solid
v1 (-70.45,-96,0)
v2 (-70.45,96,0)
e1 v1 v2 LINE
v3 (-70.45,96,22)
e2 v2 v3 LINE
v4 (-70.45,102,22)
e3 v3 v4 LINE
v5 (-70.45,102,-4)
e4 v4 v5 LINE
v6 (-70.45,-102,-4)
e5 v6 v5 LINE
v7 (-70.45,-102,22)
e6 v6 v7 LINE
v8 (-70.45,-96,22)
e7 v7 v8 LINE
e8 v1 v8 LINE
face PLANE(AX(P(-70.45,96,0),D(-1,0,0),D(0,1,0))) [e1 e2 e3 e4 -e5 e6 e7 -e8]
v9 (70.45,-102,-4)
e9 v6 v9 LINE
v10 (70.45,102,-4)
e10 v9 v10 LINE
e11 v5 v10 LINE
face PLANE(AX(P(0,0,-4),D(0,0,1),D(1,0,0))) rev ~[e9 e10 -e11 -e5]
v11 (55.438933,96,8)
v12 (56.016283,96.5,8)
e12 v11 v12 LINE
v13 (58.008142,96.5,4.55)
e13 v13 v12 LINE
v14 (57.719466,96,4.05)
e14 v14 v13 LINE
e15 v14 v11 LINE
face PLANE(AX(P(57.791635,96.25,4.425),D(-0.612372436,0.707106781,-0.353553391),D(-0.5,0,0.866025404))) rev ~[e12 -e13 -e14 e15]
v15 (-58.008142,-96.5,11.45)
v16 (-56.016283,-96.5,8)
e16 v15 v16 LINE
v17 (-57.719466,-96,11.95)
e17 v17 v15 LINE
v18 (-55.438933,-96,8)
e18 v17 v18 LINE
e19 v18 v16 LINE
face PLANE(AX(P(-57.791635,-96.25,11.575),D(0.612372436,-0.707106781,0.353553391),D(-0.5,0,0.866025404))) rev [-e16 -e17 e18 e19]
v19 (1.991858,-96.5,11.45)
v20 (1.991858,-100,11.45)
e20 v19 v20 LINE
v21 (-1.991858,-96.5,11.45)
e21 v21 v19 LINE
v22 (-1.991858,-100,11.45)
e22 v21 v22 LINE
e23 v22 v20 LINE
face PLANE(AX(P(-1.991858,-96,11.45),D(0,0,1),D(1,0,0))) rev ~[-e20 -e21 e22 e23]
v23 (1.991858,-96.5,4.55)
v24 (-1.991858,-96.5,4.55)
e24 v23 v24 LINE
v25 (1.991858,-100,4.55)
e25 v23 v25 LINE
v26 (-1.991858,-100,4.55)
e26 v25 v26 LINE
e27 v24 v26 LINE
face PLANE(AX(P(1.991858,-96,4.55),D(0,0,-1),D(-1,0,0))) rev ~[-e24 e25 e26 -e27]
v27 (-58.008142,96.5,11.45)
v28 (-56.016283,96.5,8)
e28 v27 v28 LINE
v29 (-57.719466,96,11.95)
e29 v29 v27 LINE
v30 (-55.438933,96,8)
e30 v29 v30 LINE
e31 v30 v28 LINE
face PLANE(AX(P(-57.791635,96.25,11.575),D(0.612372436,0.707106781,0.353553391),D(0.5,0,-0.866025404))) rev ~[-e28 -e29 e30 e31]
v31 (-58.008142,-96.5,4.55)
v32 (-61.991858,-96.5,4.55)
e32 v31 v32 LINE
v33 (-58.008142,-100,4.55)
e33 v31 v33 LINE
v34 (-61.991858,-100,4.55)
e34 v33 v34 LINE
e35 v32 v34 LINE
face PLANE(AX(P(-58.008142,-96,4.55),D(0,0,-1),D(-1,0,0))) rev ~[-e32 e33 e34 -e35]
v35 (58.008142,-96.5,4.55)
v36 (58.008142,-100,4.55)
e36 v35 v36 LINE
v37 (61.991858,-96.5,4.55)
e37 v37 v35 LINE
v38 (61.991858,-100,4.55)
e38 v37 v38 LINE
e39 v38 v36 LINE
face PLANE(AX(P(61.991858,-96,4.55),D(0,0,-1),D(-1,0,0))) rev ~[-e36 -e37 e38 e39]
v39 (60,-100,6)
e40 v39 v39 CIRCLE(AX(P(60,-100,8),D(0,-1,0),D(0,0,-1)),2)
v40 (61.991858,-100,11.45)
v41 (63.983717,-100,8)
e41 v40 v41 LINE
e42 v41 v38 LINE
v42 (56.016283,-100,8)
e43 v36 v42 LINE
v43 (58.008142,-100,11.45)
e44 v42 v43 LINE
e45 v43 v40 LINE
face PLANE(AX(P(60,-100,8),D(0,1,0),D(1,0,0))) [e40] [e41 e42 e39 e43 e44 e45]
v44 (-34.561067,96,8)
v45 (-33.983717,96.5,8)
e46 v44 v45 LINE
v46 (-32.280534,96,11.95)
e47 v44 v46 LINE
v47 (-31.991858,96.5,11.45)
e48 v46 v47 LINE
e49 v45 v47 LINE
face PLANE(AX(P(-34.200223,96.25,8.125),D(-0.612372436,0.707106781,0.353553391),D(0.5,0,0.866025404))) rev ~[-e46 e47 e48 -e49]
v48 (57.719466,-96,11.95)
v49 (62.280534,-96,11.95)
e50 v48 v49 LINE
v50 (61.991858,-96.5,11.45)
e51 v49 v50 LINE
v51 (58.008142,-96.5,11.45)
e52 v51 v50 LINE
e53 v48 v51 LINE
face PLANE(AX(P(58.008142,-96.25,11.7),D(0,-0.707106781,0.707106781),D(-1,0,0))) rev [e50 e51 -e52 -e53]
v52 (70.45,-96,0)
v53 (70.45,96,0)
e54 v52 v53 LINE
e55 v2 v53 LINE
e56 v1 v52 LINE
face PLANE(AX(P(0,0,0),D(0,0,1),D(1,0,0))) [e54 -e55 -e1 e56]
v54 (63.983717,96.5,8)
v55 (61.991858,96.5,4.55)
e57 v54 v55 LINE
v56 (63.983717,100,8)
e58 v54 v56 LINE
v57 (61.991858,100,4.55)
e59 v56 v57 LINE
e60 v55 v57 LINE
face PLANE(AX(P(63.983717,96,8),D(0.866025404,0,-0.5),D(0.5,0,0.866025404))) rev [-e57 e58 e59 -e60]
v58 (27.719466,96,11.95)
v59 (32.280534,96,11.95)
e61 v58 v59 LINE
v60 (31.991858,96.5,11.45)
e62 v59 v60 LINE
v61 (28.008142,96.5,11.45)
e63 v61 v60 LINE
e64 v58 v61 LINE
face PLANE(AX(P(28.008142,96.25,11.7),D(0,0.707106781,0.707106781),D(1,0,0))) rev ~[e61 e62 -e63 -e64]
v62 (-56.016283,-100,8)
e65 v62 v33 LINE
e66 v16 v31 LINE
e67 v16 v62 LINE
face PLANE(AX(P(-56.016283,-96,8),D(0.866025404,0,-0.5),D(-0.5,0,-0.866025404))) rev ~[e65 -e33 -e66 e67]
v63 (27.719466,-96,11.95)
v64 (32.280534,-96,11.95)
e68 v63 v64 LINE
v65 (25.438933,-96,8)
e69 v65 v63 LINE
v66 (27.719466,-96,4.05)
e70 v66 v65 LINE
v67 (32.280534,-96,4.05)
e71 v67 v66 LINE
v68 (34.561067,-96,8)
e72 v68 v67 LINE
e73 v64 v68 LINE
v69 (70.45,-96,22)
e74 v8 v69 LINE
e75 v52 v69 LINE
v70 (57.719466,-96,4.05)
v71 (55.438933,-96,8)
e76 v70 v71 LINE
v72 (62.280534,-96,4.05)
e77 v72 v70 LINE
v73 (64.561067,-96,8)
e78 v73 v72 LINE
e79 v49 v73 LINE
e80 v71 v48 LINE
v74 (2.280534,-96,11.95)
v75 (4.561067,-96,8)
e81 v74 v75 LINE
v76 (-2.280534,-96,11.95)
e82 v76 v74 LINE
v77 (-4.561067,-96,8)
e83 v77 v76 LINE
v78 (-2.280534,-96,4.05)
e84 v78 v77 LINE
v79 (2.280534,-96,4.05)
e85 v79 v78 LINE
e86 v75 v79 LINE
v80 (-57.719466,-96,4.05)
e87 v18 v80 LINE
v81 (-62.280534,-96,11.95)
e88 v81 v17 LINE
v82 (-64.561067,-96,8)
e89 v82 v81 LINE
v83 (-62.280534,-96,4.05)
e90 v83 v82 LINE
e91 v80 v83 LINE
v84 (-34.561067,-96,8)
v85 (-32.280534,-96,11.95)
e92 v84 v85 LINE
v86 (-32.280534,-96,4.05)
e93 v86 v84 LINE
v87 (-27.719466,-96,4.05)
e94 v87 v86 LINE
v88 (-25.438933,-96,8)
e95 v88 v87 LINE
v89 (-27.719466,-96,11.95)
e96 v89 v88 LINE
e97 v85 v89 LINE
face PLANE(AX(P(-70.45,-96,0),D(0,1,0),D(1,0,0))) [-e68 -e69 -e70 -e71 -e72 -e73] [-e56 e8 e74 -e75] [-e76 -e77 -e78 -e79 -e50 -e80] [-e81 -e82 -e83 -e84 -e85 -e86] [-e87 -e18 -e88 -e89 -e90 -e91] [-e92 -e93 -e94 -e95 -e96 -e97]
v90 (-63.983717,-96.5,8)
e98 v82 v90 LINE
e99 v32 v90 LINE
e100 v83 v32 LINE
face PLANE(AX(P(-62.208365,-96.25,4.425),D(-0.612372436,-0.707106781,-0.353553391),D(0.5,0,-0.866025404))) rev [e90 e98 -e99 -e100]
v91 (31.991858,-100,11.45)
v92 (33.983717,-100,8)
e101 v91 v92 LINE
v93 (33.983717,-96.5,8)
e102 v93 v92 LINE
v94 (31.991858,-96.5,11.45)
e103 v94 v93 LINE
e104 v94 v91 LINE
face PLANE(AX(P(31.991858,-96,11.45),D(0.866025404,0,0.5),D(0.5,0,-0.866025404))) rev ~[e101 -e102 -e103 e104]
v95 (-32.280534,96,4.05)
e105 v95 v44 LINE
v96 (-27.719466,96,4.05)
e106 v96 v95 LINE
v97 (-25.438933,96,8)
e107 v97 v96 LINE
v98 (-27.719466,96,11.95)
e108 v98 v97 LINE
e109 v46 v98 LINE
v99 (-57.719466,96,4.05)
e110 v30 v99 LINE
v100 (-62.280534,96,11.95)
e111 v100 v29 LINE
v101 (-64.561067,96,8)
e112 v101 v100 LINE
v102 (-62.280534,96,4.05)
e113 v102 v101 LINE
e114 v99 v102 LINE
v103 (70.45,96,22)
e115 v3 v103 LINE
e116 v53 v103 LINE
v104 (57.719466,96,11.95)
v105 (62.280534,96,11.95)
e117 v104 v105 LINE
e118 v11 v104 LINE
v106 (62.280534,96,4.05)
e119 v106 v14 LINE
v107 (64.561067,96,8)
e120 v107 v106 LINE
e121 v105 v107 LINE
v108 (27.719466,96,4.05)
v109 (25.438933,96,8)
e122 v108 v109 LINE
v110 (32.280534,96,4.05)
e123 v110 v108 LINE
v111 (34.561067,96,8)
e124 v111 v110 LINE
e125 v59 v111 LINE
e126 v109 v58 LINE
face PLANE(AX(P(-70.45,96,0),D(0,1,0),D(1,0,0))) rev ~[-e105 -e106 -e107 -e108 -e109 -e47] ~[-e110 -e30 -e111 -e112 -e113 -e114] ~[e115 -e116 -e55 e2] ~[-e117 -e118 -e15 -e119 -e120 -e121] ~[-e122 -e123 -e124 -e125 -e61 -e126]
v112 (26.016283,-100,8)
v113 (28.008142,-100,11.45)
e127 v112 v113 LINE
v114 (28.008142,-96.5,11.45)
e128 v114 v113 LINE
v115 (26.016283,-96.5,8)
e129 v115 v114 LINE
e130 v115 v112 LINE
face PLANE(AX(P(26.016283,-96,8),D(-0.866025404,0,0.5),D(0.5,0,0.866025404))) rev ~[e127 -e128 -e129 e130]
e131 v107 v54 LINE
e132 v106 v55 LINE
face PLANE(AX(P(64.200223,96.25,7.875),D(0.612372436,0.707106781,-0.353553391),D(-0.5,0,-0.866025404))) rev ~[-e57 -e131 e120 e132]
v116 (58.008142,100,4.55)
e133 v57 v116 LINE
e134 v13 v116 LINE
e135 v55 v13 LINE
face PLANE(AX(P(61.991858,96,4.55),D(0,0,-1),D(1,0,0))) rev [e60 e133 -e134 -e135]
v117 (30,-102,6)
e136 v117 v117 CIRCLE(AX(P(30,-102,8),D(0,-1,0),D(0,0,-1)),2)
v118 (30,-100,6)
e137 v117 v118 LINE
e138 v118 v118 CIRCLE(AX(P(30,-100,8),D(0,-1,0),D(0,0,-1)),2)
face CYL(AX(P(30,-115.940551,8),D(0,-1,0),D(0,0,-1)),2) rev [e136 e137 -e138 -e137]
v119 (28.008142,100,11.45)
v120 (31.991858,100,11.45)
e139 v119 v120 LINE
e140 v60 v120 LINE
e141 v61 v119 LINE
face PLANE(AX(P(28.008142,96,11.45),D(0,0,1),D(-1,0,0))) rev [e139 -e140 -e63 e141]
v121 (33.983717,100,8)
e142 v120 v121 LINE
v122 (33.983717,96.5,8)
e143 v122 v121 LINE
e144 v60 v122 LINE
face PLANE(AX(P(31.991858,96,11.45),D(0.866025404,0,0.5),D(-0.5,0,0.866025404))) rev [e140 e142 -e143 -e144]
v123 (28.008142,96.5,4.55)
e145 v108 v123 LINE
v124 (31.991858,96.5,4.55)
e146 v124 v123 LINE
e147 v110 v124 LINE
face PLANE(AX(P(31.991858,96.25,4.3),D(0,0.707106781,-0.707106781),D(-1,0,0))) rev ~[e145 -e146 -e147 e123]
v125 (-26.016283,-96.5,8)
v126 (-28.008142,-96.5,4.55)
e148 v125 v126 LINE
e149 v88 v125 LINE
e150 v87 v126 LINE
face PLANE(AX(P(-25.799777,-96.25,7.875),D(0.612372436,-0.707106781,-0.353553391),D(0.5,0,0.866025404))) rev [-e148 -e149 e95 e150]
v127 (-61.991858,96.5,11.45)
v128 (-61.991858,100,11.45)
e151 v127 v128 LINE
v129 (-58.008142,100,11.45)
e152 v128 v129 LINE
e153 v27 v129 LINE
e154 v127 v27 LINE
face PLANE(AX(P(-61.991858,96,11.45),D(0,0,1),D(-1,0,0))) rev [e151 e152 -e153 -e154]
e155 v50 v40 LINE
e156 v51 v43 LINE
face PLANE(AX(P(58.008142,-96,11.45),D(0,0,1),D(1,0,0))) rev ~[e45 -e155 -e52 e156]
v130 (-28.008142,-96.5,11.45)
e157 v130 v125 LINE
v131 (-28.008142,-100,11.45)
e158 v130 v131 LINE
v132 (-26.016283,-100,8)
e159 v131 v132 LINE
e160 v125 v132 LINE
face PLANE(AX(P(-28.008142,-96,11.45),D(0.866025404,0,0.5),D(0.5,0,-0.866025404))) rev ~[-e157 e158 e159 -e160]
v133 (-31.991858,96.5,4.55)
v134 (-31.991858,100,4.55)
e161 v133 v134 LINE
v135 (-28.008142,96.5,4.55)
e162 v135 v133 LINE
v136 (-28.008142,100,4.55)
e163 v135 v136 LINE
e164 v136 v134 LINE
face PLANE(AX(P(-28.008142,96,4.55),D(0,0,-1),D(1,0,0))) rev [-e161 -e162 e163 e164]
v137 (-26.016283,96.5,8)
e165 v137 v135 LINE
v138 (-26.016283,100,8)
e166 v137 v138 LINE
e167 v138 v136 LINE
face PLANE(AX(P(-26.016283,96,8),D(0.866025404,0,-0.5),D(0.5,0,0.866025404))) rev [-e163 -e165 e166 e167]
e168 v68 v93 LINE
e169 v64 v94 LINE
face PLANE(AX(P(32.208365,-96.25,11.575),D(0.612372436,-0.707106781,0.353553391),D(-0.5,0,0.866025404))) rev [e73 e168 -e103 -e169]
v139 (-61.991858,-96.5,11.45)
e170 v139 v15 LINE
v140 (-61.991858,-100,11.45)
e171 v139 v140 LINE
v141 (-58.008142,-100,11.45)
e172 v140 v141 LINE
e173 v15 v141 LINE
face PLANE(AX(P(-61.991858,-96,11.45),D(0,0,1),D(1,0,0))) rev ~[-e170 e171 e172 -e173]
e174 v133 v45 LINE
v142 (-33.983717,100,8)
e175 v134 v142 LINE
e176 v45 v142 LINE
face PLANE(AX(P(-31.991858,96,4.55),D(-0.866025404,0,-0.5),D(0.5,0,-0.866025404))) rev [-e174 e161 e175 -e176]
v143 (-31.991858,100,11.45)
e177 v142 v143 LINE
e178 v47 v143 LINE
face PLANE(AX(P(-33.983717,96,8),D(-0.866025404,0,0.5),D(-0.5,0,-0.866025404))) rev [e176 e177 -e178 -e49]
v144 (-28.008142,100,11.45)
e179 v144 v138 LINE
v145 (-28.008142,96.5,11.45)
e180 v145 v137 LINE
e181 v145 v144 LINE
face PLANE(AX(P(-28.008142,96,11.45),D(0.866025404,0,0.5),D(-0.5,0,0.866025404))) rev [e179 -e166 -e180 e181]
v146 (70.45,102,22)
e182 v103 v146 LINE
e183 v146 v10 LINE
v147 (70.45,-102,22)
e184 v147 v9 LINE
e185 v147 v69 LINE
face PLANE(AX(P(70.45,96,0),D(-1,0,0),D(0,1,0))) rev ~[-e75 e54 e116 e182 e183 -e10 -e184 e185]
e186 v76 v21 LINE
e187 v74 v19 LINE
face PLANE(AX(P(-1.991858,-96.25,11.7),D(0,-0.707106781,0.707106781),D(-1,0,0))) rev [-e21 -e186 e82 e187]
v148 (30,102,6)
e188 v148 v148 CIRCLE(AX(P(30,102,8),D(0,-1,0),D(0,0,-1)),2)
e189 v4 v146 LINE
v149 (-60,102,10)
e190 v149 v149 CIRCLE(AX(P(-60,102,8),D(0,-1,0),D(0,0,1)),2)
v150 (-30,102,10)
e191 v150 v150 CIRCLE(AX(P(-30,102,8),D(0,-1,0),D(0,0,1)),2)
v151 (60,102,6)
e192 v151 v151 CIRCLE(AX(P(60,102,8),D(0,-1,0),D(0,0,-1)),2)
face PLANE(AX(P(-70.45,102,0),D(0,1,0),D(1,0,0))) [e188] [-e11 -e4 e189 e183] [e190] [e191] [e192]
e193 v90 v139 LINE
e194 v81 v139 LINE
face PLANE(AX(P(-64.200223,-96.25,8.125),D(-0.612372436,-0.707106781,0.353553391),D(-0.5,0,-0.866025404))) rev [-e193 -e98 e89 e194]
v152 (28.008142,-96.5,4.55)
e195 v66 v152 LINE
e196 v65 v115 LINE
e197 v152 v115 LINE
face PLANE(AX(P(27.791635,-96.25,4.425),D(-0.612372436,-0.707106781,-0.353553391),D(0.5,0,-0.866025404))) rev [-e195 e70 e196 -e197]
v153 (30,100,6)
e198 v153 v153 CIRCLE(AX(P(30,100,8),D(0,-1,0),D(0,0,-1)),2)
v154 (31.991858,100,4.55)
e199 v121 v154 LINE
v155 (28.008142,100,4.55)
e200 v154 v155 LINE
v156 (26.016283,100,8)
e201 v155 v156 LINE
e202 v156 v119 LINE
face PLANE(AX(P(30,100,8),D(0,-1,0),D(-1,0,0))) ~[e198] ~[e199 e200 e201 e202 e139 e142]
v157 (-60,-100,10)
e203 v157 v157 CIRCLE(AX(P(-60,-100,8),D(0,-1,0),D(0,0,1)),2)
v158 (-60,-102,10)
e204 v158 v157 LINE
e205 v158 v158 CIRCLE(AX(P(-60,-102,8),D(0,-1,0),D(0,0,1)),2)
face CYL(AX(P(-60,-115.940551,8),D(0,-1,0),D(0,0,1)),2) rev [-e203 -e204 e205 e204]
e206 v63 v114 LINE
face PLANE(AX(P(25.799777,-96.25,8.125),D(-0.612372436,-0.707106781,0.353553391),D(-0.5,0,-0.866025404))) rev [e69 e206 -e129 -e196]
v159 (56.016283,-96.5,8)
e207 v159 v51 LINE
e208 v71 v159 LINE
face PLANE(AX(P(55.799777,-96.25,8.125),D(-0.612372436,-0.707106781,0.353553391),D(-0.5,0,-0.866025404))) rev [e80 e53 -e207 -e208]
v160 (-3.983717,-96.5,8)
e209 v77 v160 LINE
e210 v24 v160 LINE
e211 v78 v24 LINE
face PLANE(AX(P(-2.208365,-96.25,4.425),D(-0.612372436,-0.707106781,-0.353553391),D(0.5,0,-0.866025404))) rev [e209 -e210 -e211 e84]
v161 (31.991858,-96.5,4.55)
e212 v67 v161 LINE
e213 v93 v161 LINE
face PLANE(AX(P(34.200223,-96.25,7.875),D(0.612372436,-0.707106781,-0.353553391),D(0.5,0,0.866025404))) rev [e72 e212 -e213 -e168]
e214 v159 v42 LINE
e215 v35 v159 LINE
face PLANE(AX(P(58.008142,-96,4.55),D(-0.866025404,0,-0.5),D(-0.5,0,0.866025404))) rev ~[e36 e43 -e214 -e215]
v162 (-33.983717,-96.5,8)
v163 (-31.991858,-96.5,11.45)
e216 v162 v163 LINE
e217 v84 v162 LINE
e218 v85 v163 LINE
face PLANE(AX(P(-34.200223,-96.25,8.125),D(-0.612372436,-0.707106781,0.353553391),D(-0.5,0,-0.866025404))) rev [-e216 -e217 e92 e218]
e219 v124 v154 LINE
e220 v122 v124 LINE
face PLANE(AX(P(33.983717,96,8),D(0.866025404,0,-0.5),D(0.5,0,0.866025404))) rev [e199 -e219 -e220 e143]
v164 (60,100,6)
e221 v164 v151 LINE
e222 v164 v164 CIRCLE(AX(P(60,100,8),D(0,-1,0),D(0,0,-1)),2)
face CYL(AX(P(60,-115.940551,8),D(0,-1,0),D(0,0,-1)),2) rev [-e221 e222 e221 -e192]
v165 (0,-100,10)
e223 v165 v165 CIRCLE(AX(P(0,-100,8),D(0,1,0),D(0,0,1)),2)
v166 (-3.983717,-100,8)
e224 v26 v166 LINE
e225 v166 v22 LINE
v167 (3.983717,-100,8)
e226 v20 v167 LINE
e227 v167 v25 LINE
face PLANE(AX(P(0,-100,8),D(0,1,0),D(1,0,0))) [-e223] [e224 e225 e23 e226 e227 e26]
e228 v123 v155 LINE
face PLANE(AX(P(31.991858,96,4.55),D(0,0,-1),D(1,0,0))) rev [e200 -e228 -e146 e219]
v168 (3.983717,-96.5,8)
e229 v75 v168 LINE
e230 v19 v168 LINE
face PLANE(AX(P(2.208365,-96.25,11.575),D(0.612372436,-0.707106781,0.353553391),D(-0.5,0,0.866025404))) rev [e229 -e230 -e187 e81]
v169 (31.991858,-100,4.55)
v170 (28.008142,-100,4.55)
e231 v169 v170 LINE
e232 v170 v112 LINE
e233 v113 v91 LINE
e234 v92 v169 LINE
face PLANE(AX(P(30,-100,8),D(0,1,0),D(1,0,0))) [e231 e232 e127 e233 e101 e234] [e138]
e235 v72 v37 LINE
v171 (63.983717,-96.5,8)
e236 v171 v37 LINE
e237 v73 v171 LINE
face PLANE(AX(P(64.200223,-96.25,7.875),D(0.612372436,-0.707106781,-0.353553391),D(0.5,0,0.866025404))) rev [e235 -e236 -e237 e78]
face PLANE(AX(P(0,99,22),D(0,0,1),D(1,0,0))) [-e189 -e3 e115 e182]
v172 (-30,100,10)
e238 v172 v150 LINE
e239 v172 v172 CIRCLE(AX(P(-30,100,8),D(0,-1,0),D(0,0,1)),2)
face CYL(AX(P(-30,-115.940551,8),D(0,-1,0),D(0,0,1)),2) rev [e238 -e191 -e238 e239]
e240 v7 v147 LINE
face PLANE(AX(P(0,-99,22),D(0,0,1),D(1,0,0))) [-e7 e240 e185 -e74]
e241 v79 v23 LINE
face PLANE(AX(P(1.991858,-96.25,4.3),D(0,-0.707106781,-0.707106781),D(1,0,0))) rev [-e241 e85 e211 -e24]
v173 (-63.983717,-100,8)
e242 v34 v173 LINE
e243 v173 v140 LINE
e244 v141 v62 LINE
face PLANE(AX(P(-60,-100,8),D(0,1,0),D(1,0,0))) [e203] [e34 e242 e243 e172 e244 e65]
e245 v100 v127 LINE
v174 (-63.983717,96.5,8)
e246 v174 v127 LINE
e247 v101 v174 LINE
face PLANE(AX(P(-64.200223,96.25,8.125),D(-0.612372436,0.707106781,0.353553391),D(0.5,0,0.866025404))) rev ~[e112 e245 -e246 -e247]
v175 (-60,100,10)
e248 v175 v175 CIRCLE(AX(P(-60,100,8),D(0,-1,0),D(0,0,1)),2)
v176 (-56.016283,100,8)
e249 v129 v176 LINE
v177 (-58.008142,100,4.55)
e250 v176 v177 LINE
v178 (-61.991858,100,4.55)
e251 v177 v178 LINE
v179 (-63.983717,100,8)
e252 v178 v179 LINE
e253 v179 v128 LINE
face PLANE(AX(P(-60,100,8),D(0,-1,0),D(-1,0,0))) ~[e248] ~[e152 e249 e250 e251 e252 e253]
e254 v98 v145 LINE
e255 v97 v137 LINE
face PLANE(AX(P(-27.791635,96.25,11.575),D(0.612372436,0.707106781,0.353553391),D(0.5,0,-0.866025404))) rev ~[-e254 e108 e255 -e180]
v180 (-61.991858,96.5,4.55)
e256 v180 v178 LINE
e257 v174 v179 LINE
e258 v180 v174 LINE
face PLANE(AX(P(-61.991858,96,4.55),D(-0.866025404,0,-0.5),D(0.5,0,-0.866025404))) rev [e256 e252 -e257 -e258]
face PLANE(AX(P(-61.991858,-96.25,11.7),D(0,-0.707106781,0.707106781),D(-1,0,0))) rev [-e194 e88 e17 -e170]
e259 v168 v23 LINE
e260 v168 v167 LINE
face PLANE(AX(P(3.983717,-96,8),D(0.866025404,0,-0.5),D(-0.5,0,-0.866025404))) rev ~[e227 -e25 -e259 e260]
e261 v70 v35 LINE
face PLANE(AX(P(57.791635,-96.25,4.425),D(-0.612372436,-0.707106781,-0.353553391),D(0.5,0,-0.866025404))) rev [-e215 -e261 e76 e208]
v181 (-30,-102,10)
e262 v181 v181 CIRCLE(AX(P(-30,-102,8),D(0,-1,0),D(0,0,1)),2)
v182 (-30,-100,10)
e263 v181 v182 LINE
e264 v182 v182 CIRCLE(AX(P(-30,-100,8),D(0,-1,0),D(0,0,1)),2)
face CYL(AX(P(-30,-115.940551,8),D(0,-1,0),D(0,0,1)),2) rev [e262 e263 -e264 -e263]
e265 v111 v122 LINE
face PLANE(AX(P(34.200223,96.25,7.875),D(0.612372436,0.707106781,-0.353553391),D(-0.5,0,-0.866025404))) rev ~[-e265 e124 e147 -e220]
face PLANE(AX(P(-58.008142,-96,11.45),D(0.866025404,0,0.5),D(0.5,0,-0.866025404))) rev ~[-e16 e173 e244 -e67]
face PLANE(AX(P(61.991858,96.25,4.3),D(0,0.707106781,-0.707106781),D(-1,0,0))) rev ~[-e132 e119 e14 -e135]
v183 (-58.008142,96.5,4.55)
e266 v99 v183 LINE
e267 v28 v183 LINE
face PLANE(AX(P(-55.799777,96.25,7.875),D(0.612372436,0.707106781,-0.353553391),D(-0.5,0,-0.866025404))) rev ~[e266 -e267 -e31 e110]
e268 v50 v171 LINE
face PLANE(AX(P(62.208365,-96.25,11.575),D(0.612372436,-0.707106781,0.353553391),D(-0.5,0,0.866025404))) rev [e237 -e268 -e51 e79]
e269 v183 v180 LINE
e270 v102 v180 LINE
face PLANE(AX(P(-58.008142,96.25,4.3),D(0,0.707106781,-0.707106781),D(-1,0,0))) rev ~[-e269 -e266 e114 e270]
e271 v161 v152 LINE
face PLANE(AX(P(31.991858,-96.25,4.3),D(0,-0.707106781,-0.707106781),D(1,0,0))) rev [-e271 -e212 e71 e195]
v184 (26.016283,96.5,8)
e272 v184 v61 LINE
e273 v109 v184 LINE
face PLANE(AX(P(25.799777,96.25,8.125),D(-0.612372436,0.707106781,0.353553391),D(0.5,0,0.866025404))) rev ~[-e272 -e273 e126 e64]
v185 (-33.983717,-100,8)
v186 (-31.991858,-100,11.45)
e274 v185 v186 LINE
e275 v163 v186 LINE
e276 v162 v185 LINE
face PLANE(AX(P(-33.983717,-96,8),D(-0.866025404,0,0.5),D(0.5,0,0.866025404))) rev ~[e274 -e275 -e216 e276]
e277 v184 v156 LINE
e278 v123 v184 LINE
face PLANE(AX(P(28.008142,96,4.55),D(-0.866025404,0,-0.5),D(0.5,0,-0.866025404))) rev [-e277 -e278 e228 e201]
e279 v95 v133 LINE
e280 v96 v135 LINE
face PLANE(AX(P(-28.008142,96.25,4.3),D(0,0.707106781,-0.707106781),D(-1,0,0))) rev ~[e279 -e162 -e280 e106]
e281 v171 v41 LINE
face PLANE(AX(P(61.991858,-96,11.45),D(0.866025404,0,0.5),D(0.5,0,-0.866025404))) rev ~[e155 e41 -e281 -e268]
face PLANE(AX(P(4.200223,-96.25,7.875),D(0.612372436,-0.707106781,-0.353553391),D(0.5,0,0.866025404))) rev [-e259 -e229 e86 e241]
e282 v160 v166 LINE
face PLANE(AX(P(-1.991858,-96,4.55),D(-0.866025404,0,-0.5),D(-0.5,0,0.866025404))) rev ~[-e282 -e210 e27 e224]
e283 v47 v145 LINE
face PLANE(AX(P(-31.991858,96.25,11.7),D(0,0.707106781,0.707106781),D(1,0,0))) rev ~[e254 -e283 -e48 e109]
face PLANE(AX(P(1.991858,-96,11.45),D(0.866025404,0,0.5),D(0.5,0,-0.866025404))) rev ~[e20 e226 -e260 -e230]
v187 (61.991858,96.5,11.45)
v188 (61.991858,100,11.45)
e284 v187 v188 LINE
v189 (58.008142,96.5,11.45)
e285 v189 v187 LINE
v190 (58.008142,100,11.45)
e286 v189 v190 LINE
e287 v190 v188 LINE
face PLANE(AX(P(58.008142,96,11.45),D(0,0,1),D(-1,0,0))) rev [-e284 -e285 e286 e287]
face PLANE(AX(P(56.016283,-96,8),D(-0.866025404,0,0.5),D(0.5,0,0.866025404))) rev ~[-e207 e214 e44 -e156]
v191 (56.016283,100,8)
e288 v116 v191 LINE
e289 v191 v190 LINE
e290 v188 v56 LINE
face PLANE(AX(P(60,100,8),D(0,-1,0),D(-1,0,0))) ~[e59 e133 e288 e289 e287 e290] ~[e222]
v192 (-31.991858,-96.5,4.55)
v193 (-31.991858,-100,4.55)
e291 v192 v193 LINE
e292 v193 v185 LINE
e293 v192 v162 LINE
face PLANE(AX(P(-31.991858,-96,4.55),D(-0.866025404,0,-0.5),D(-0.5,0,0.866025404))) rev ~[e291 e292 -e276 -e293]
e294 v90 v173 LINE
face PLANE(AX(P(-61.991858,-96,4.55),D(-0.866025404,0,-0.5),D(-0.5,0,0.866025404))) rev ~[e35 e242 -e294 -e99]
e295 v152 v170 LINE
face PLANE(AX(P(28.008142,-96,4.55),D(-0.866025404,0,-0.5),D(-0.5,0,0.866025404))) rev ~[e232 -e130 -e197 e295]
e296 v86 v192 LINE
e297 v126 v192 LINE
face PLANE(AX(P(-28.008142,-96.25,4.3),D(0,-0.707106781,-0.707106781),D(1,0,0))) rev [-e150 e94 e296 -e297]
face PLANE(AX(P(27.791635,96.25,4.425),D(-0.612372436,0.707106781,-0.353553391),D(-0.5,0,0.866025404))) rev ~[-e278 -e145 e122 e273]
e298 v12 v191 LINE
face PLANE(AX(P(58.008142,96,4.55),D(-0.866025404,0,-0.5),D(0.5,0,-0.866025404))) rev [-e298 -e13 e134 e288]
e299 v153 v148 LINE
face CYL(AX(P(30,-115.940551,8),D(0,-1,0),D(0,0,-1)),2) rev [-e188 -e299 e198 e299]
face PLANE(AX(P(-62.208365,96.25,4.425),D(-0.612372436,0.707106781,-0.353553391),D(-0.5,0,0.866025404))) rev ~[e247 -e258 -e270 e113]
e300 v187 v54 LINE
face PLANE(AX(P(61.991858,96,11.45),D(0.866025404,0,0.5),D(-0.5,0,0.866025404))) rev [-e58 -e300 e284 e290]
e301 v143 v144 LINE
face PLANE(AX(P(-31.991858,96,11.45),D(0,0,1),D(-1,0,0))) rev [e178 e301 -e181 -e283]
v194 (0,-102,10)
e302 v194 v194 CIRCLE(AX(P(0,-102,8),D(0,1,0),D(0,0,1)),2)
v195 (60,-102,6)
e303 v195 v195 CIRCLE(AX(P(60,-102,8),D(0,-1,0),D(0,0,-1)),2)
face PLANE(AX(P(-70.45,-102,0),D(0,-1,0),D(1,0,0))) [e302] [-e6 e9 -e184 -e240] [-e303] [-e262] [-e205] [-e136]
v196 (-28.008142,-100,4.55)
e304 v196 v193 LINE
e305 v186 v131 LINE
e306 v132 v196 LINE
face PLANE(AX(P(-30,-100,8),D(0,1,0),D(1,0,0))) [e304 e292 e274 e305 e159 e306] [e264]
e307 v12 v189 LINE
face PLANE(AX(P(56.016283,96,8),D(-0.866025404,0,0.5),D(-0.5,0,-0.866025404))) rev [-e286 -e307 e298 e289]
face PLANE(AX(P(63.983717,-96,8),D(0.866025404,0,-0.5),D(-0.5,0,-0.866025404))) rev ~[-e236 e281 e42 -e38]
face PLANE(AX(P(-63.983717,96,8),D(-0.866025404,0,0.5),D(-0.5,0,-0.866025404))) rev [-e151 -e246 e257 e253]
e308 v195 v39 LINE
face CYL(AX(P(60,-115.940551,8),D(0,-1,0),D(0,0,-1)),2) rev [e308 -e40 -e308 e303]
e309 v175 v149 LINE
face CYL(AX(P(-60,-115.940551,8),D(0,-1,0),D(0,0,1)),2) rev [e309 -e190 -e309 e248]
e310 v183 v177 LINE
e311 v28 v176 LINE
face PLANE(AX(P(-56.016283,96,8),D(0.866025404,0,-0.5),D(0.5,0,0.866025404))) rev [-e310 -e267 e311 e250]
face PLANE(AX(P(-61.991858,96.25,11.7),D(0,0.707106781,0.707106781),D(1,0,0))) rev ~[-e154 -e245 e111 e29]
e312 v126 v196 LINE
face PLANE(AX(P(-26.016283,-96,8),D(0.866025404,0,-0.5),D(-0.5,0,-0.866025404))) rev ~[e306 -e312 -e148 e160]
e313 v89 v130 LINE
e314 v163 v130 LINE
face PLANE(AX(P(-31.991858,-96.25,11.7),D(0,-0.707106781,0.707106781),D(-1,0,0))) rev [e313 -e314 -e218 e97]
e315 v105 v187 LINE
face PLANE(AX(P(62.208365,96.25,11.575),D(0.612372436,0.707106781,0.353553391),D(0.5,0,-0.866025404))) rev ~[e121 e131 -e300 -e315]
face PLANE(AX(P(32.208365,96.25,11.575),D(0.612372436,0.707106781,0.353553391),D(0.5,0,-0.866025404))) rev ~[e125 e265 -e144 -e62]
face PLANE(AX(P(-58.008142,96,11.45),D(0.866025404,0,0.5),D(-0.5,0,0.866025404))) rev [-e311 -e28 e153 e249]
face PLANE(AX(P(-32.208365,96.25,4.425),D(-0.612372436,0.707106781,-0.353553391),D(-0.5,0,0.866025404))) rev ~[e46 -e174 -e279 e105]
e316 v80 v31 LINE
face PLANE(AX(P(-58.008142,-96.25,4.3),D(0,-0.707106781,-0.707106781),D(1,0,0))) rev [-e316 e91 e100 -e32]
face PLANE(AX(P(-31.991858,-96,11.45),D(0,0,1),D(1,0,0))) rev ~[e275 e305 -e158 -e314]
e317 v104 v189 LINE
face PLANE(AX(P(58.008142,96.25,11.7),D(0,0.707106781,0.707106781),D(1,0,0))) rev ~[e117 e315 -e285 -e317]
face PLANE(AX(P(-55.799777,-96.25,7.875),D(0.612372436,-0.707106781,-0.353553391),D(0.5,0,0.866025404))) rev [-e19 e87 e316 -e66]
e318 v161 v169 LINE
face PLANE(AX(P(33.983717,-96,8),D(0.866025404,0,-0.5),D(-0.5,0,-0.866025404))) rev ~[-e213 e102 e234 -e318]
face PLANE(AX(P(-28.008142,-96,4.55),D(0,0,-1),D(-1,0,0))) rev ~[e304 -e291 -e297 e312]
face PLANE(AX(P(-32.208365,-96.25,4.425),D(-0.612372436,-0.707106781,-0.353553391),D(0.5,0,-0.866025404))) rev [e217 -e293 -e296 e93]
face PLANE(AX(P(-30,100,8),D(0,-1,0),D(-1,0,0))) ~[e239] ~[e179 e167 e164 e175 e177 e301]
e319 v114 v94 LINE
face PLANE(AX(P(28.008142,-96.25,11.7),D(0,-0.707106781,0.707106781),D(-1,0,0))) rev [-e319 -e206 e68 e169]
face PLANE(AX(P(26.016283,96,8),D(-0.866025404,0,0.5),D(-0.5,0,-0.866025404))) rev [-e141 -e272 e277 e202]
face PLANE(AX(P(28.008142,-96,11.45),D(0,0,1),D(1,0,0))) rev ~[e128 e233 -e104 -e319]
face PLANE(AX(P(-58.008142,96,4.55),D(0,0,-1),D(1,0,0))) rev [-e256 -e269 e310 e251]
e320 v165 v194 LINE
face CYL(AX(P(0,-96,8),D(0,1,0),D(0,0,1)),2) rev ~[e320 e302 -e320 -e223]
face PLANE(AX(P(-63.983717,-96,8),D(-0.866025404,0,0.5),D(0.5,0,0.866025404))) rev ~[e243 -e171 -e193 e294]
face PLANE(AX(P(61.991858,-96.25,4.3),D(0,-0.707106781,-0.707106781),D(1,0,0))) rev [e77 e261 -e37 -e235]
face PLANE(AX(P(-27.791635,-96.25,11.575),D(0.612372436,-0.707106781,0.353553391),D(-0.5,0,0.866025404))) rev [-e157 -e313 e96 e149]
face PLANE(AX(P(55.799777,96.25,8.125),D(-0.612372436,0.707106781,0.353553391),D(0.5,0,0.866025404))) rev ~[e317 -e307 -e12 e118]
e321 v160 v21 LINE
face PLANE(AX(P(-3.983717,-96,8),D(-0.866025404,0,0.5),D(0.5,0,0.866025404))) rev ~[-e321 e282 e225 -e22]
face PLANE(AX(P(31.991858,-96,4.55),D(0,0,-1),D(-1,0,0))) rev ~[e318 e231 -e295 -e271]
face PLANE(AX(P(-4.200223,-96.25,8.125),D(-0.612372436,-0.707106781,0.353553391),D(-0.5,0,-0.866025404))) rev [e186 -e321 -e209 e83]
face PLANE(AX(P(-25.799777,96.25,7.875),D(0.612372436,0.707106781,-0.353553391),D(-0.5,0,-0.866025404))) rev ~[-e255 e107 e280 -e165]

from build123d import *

# Parameters (mm, degrees)
SKETCH1_W               = 140.9
SKETCH1_H               = 204
BOSS_EXTRUDE1_DEPTH     = 4
SKETCH4_W               = 140.9
SKETCH4_H               = 6
BOSS_EXTRUDE3_DEPTH     = 22
CUT_EXTRUDE1_DEPTH      = 217.940550612
CUT_EXTRUDE1_DEPTH_BACK = 217.940550612
SKETCH5_R               = 2
CUT_EXTRUDE4_DEPTH      = 4
SKETCH9_R               = 2
CUT_EXTRUDE5_DEPTH      = 212.308311479
CUT_EXTRUDE6_DEPTH      = 4
CHAMFER1_SIZE           = 0.5


with BuildPart() as part:
    # Sketch1 → Boss-Extrude1 (new body)
    with BuildSketch(Plane.XY):
        Rectangle(SKETCH1_W, SKETCH1_H)
    extrude(amount=-BOSS_EXTRUDE1_DEPTH)

    # Sketch4 → Boss-Extrude3 (add)
    with BuildSketch(Plane.XY):
        with Locations((0, 99)):
            Rectangle(SKETCH4_W, SKETCH4_H)
        with Locations((0, -99)):
            Rectangle(SKETCH4_W, SKETCH4_H)
    extrude(amount=BOSS_EXTRUDE3_DEPTH)

    # Sketch5 → Cut-Extrude1 (cut, two sides: drawn at the far end of the back side and taken through both)
    with BuildSketch(Plane(origin=(0, 102, 0), x_dir=(1, 0, 0), z_dir=(0, 1, 0)).offset(-CUT_EXTRUDE1_DEPTH_BACK)):
        with Locations(Location((-30, -8, 0), (0, 0, 270))):
            Circle(SKETCH5_R)
        with Locations(Location((-60, -8, 0), (0, 0, 270))):
            Circle(SKETCH5_R)
        with Locations(Location((60, -8, 0), (0, 0, 90))):
            Circle(SKETCH5_R)
        with Locations(Location((30, -8, 0), (0, 0, 90))):
            Circle(SKETCH5_R)
    extrude(amount=CUT_EXTRUDE1_DEPTH + CUT_EXTRUDE1_DEPTH_BACK, mode=Mode.SUBTRACT)

    # Sketch8 → Cut-Extrude4 (cut)
    with BuildSketch(Plane(origin=(0, -96, 0), x_dir=(1, 0, 0), z_dir=(0, 1, 0))):
        Polygon((-26.016283143, -8), (-28.008141571, -4.55), (-31.991858429, -4.55), (-33.983716857, -8), (-31.991858429, -11.45), (-28.008141571, -11.45), align=None)
        Polygon((-56.016283143, -8), (-58.008141571, -4.55), (-61.991858429, -4.55), (-63.983716857, -8), (-61.991858429, -11.45), (-58.008141571, -11.45), align=None)
        Polygon((33.983716857, -8), (31.991858429, -4.55), (28.008141571, -4.55), (26.016283143, -8), (28.008141571, -11.45), (31.991858429, -11.45), align=None)
        Polygon((63.983716857, -8), (61.991858429, -4.55), (58.008141571, -4.55), (56.016283143, -8), (58.008141571, -11.45), (61.991858429, -11.45), align=None)
    cut_extrude4 = extrude(amount=-CUT_EXTRUDE4_DEPTH, mode=Mode.SUBTRACT)

    # Mirror1: Cut-Extrude4 across plane
    add(cut_extrude4.mirror(Plane.ZX), mode=Mode.SUBTRACT)

    # Sketch9 → Cut-Extrude5 (cut, through all)
    with BuildSketch(Plane(origin=(0, -96, 0), x_dir=(1, 0, 0), z_dir=(0, 1, 0))):
        with Locations(Location((0, -8, 0), (0, 0, 270))):
            Circle(SKETCH9_R)
    extrude(amount=-CUT_EXTRUDE5_DEPTH, mode=Mode.SUBTRACT)

    # Sketch10 → Cut-Extrude6 (cut)
    with BuildSketch(Plane(origin=(0, -96, 0), x_dir=(1, 0, 0), z_dir=(0, 1, 0))):
        Polygon((1.991858429, -4.55), (-1.991858429, -4.55), (-3.983716857, -8), (-1.991858429, -11.45), (1.991858429, -11.45), (3.983716857, -8), align=None)
    extrude(amount=-CUT_EXTRUDE6_DEPTH, mode=Mode.SUBTRACT)

    # Chamfer1
    chamfer1_edges = [part.edges().sort_by_distance(p)[0] for p in [
        (32.987787643, -96, 9.725),
        (32.987787643, -96, 6.275),
        (30, -96, 4.55),
        (27.012212357, -96, 6.275),
        (27.012212357, -96, 9.725),
        (30, -96, 11.45),
        (62.987787643, -96, 9.725),
        (62.987787643, -96, 6.275),
        (60, -96, 4.55),
        (57.012212357, -96, 6.275),
        (57.012212357, -96, 9.725),
        (60, -96, 11.45),
        (-57.012212357, 96, 9.725),
        (-57.012212357, 96, 6.275),
        (-60, 96, 4.55),
        (-62.987787643, 96, 6.275),
        (-62.987787643, 96, 9.725),
        (-60, 96, 11.45),
        (-27.012212357, 96, 9.725),
        (-27.012212357, 96, 6.275),
        (-30, 96, 4.55),
        (-32.987787643, 96, 6.275),
        (-32.987787643, 96, 9.725),
        (-30, 96, 11.45),
        (32.987787643, 96, 9.725),
        (32.987787643, 96, 6.275),
        (30, 96, 4.55),
        (27.012212357, 96, 6.275),
        (27.012212357, 96, 9.725),
        (30, 96, 11.45),
        (62.987787643, 96, 9.725),
        (62.987787643, 96, 6.275),
        (60, 96, 4.55),
        (57.012212357, 96, 6.275),
        (57.012212357, 96, 9.725),
        (60, 96, 11.45),
        (2.987787643, -96, 6.275),
        (0, -96, 4.55),
        (-2.987787643, -96, 6.275),
        (-2.987787643, -96, 9.725),
        (0, -96, 11.45),
        (2.987787643, -96, 9.725),
        (-57.012212357, -96, 9.725),
        (-57.012212357, -96, 6.275),
        (-60, -96, 4.55),
        (-62.987787643, -96, 6.275),
        (-62.987787643, -96, 9.725),
        (-60, -96, 11.45),
        (-27.012212357, -96, 9.725),
        (-27.012212357, -96, 6.275),
        (-30, -96, 4.55),
        (-32.987787643, -96, 6.275),
        (-32.987787643, -96, 9.725),
        (-30, -96, 11.45),
    ]]
    chamfer(chamfer1_edges, length=CHAMFER1_SIZE)


solid = part.part
